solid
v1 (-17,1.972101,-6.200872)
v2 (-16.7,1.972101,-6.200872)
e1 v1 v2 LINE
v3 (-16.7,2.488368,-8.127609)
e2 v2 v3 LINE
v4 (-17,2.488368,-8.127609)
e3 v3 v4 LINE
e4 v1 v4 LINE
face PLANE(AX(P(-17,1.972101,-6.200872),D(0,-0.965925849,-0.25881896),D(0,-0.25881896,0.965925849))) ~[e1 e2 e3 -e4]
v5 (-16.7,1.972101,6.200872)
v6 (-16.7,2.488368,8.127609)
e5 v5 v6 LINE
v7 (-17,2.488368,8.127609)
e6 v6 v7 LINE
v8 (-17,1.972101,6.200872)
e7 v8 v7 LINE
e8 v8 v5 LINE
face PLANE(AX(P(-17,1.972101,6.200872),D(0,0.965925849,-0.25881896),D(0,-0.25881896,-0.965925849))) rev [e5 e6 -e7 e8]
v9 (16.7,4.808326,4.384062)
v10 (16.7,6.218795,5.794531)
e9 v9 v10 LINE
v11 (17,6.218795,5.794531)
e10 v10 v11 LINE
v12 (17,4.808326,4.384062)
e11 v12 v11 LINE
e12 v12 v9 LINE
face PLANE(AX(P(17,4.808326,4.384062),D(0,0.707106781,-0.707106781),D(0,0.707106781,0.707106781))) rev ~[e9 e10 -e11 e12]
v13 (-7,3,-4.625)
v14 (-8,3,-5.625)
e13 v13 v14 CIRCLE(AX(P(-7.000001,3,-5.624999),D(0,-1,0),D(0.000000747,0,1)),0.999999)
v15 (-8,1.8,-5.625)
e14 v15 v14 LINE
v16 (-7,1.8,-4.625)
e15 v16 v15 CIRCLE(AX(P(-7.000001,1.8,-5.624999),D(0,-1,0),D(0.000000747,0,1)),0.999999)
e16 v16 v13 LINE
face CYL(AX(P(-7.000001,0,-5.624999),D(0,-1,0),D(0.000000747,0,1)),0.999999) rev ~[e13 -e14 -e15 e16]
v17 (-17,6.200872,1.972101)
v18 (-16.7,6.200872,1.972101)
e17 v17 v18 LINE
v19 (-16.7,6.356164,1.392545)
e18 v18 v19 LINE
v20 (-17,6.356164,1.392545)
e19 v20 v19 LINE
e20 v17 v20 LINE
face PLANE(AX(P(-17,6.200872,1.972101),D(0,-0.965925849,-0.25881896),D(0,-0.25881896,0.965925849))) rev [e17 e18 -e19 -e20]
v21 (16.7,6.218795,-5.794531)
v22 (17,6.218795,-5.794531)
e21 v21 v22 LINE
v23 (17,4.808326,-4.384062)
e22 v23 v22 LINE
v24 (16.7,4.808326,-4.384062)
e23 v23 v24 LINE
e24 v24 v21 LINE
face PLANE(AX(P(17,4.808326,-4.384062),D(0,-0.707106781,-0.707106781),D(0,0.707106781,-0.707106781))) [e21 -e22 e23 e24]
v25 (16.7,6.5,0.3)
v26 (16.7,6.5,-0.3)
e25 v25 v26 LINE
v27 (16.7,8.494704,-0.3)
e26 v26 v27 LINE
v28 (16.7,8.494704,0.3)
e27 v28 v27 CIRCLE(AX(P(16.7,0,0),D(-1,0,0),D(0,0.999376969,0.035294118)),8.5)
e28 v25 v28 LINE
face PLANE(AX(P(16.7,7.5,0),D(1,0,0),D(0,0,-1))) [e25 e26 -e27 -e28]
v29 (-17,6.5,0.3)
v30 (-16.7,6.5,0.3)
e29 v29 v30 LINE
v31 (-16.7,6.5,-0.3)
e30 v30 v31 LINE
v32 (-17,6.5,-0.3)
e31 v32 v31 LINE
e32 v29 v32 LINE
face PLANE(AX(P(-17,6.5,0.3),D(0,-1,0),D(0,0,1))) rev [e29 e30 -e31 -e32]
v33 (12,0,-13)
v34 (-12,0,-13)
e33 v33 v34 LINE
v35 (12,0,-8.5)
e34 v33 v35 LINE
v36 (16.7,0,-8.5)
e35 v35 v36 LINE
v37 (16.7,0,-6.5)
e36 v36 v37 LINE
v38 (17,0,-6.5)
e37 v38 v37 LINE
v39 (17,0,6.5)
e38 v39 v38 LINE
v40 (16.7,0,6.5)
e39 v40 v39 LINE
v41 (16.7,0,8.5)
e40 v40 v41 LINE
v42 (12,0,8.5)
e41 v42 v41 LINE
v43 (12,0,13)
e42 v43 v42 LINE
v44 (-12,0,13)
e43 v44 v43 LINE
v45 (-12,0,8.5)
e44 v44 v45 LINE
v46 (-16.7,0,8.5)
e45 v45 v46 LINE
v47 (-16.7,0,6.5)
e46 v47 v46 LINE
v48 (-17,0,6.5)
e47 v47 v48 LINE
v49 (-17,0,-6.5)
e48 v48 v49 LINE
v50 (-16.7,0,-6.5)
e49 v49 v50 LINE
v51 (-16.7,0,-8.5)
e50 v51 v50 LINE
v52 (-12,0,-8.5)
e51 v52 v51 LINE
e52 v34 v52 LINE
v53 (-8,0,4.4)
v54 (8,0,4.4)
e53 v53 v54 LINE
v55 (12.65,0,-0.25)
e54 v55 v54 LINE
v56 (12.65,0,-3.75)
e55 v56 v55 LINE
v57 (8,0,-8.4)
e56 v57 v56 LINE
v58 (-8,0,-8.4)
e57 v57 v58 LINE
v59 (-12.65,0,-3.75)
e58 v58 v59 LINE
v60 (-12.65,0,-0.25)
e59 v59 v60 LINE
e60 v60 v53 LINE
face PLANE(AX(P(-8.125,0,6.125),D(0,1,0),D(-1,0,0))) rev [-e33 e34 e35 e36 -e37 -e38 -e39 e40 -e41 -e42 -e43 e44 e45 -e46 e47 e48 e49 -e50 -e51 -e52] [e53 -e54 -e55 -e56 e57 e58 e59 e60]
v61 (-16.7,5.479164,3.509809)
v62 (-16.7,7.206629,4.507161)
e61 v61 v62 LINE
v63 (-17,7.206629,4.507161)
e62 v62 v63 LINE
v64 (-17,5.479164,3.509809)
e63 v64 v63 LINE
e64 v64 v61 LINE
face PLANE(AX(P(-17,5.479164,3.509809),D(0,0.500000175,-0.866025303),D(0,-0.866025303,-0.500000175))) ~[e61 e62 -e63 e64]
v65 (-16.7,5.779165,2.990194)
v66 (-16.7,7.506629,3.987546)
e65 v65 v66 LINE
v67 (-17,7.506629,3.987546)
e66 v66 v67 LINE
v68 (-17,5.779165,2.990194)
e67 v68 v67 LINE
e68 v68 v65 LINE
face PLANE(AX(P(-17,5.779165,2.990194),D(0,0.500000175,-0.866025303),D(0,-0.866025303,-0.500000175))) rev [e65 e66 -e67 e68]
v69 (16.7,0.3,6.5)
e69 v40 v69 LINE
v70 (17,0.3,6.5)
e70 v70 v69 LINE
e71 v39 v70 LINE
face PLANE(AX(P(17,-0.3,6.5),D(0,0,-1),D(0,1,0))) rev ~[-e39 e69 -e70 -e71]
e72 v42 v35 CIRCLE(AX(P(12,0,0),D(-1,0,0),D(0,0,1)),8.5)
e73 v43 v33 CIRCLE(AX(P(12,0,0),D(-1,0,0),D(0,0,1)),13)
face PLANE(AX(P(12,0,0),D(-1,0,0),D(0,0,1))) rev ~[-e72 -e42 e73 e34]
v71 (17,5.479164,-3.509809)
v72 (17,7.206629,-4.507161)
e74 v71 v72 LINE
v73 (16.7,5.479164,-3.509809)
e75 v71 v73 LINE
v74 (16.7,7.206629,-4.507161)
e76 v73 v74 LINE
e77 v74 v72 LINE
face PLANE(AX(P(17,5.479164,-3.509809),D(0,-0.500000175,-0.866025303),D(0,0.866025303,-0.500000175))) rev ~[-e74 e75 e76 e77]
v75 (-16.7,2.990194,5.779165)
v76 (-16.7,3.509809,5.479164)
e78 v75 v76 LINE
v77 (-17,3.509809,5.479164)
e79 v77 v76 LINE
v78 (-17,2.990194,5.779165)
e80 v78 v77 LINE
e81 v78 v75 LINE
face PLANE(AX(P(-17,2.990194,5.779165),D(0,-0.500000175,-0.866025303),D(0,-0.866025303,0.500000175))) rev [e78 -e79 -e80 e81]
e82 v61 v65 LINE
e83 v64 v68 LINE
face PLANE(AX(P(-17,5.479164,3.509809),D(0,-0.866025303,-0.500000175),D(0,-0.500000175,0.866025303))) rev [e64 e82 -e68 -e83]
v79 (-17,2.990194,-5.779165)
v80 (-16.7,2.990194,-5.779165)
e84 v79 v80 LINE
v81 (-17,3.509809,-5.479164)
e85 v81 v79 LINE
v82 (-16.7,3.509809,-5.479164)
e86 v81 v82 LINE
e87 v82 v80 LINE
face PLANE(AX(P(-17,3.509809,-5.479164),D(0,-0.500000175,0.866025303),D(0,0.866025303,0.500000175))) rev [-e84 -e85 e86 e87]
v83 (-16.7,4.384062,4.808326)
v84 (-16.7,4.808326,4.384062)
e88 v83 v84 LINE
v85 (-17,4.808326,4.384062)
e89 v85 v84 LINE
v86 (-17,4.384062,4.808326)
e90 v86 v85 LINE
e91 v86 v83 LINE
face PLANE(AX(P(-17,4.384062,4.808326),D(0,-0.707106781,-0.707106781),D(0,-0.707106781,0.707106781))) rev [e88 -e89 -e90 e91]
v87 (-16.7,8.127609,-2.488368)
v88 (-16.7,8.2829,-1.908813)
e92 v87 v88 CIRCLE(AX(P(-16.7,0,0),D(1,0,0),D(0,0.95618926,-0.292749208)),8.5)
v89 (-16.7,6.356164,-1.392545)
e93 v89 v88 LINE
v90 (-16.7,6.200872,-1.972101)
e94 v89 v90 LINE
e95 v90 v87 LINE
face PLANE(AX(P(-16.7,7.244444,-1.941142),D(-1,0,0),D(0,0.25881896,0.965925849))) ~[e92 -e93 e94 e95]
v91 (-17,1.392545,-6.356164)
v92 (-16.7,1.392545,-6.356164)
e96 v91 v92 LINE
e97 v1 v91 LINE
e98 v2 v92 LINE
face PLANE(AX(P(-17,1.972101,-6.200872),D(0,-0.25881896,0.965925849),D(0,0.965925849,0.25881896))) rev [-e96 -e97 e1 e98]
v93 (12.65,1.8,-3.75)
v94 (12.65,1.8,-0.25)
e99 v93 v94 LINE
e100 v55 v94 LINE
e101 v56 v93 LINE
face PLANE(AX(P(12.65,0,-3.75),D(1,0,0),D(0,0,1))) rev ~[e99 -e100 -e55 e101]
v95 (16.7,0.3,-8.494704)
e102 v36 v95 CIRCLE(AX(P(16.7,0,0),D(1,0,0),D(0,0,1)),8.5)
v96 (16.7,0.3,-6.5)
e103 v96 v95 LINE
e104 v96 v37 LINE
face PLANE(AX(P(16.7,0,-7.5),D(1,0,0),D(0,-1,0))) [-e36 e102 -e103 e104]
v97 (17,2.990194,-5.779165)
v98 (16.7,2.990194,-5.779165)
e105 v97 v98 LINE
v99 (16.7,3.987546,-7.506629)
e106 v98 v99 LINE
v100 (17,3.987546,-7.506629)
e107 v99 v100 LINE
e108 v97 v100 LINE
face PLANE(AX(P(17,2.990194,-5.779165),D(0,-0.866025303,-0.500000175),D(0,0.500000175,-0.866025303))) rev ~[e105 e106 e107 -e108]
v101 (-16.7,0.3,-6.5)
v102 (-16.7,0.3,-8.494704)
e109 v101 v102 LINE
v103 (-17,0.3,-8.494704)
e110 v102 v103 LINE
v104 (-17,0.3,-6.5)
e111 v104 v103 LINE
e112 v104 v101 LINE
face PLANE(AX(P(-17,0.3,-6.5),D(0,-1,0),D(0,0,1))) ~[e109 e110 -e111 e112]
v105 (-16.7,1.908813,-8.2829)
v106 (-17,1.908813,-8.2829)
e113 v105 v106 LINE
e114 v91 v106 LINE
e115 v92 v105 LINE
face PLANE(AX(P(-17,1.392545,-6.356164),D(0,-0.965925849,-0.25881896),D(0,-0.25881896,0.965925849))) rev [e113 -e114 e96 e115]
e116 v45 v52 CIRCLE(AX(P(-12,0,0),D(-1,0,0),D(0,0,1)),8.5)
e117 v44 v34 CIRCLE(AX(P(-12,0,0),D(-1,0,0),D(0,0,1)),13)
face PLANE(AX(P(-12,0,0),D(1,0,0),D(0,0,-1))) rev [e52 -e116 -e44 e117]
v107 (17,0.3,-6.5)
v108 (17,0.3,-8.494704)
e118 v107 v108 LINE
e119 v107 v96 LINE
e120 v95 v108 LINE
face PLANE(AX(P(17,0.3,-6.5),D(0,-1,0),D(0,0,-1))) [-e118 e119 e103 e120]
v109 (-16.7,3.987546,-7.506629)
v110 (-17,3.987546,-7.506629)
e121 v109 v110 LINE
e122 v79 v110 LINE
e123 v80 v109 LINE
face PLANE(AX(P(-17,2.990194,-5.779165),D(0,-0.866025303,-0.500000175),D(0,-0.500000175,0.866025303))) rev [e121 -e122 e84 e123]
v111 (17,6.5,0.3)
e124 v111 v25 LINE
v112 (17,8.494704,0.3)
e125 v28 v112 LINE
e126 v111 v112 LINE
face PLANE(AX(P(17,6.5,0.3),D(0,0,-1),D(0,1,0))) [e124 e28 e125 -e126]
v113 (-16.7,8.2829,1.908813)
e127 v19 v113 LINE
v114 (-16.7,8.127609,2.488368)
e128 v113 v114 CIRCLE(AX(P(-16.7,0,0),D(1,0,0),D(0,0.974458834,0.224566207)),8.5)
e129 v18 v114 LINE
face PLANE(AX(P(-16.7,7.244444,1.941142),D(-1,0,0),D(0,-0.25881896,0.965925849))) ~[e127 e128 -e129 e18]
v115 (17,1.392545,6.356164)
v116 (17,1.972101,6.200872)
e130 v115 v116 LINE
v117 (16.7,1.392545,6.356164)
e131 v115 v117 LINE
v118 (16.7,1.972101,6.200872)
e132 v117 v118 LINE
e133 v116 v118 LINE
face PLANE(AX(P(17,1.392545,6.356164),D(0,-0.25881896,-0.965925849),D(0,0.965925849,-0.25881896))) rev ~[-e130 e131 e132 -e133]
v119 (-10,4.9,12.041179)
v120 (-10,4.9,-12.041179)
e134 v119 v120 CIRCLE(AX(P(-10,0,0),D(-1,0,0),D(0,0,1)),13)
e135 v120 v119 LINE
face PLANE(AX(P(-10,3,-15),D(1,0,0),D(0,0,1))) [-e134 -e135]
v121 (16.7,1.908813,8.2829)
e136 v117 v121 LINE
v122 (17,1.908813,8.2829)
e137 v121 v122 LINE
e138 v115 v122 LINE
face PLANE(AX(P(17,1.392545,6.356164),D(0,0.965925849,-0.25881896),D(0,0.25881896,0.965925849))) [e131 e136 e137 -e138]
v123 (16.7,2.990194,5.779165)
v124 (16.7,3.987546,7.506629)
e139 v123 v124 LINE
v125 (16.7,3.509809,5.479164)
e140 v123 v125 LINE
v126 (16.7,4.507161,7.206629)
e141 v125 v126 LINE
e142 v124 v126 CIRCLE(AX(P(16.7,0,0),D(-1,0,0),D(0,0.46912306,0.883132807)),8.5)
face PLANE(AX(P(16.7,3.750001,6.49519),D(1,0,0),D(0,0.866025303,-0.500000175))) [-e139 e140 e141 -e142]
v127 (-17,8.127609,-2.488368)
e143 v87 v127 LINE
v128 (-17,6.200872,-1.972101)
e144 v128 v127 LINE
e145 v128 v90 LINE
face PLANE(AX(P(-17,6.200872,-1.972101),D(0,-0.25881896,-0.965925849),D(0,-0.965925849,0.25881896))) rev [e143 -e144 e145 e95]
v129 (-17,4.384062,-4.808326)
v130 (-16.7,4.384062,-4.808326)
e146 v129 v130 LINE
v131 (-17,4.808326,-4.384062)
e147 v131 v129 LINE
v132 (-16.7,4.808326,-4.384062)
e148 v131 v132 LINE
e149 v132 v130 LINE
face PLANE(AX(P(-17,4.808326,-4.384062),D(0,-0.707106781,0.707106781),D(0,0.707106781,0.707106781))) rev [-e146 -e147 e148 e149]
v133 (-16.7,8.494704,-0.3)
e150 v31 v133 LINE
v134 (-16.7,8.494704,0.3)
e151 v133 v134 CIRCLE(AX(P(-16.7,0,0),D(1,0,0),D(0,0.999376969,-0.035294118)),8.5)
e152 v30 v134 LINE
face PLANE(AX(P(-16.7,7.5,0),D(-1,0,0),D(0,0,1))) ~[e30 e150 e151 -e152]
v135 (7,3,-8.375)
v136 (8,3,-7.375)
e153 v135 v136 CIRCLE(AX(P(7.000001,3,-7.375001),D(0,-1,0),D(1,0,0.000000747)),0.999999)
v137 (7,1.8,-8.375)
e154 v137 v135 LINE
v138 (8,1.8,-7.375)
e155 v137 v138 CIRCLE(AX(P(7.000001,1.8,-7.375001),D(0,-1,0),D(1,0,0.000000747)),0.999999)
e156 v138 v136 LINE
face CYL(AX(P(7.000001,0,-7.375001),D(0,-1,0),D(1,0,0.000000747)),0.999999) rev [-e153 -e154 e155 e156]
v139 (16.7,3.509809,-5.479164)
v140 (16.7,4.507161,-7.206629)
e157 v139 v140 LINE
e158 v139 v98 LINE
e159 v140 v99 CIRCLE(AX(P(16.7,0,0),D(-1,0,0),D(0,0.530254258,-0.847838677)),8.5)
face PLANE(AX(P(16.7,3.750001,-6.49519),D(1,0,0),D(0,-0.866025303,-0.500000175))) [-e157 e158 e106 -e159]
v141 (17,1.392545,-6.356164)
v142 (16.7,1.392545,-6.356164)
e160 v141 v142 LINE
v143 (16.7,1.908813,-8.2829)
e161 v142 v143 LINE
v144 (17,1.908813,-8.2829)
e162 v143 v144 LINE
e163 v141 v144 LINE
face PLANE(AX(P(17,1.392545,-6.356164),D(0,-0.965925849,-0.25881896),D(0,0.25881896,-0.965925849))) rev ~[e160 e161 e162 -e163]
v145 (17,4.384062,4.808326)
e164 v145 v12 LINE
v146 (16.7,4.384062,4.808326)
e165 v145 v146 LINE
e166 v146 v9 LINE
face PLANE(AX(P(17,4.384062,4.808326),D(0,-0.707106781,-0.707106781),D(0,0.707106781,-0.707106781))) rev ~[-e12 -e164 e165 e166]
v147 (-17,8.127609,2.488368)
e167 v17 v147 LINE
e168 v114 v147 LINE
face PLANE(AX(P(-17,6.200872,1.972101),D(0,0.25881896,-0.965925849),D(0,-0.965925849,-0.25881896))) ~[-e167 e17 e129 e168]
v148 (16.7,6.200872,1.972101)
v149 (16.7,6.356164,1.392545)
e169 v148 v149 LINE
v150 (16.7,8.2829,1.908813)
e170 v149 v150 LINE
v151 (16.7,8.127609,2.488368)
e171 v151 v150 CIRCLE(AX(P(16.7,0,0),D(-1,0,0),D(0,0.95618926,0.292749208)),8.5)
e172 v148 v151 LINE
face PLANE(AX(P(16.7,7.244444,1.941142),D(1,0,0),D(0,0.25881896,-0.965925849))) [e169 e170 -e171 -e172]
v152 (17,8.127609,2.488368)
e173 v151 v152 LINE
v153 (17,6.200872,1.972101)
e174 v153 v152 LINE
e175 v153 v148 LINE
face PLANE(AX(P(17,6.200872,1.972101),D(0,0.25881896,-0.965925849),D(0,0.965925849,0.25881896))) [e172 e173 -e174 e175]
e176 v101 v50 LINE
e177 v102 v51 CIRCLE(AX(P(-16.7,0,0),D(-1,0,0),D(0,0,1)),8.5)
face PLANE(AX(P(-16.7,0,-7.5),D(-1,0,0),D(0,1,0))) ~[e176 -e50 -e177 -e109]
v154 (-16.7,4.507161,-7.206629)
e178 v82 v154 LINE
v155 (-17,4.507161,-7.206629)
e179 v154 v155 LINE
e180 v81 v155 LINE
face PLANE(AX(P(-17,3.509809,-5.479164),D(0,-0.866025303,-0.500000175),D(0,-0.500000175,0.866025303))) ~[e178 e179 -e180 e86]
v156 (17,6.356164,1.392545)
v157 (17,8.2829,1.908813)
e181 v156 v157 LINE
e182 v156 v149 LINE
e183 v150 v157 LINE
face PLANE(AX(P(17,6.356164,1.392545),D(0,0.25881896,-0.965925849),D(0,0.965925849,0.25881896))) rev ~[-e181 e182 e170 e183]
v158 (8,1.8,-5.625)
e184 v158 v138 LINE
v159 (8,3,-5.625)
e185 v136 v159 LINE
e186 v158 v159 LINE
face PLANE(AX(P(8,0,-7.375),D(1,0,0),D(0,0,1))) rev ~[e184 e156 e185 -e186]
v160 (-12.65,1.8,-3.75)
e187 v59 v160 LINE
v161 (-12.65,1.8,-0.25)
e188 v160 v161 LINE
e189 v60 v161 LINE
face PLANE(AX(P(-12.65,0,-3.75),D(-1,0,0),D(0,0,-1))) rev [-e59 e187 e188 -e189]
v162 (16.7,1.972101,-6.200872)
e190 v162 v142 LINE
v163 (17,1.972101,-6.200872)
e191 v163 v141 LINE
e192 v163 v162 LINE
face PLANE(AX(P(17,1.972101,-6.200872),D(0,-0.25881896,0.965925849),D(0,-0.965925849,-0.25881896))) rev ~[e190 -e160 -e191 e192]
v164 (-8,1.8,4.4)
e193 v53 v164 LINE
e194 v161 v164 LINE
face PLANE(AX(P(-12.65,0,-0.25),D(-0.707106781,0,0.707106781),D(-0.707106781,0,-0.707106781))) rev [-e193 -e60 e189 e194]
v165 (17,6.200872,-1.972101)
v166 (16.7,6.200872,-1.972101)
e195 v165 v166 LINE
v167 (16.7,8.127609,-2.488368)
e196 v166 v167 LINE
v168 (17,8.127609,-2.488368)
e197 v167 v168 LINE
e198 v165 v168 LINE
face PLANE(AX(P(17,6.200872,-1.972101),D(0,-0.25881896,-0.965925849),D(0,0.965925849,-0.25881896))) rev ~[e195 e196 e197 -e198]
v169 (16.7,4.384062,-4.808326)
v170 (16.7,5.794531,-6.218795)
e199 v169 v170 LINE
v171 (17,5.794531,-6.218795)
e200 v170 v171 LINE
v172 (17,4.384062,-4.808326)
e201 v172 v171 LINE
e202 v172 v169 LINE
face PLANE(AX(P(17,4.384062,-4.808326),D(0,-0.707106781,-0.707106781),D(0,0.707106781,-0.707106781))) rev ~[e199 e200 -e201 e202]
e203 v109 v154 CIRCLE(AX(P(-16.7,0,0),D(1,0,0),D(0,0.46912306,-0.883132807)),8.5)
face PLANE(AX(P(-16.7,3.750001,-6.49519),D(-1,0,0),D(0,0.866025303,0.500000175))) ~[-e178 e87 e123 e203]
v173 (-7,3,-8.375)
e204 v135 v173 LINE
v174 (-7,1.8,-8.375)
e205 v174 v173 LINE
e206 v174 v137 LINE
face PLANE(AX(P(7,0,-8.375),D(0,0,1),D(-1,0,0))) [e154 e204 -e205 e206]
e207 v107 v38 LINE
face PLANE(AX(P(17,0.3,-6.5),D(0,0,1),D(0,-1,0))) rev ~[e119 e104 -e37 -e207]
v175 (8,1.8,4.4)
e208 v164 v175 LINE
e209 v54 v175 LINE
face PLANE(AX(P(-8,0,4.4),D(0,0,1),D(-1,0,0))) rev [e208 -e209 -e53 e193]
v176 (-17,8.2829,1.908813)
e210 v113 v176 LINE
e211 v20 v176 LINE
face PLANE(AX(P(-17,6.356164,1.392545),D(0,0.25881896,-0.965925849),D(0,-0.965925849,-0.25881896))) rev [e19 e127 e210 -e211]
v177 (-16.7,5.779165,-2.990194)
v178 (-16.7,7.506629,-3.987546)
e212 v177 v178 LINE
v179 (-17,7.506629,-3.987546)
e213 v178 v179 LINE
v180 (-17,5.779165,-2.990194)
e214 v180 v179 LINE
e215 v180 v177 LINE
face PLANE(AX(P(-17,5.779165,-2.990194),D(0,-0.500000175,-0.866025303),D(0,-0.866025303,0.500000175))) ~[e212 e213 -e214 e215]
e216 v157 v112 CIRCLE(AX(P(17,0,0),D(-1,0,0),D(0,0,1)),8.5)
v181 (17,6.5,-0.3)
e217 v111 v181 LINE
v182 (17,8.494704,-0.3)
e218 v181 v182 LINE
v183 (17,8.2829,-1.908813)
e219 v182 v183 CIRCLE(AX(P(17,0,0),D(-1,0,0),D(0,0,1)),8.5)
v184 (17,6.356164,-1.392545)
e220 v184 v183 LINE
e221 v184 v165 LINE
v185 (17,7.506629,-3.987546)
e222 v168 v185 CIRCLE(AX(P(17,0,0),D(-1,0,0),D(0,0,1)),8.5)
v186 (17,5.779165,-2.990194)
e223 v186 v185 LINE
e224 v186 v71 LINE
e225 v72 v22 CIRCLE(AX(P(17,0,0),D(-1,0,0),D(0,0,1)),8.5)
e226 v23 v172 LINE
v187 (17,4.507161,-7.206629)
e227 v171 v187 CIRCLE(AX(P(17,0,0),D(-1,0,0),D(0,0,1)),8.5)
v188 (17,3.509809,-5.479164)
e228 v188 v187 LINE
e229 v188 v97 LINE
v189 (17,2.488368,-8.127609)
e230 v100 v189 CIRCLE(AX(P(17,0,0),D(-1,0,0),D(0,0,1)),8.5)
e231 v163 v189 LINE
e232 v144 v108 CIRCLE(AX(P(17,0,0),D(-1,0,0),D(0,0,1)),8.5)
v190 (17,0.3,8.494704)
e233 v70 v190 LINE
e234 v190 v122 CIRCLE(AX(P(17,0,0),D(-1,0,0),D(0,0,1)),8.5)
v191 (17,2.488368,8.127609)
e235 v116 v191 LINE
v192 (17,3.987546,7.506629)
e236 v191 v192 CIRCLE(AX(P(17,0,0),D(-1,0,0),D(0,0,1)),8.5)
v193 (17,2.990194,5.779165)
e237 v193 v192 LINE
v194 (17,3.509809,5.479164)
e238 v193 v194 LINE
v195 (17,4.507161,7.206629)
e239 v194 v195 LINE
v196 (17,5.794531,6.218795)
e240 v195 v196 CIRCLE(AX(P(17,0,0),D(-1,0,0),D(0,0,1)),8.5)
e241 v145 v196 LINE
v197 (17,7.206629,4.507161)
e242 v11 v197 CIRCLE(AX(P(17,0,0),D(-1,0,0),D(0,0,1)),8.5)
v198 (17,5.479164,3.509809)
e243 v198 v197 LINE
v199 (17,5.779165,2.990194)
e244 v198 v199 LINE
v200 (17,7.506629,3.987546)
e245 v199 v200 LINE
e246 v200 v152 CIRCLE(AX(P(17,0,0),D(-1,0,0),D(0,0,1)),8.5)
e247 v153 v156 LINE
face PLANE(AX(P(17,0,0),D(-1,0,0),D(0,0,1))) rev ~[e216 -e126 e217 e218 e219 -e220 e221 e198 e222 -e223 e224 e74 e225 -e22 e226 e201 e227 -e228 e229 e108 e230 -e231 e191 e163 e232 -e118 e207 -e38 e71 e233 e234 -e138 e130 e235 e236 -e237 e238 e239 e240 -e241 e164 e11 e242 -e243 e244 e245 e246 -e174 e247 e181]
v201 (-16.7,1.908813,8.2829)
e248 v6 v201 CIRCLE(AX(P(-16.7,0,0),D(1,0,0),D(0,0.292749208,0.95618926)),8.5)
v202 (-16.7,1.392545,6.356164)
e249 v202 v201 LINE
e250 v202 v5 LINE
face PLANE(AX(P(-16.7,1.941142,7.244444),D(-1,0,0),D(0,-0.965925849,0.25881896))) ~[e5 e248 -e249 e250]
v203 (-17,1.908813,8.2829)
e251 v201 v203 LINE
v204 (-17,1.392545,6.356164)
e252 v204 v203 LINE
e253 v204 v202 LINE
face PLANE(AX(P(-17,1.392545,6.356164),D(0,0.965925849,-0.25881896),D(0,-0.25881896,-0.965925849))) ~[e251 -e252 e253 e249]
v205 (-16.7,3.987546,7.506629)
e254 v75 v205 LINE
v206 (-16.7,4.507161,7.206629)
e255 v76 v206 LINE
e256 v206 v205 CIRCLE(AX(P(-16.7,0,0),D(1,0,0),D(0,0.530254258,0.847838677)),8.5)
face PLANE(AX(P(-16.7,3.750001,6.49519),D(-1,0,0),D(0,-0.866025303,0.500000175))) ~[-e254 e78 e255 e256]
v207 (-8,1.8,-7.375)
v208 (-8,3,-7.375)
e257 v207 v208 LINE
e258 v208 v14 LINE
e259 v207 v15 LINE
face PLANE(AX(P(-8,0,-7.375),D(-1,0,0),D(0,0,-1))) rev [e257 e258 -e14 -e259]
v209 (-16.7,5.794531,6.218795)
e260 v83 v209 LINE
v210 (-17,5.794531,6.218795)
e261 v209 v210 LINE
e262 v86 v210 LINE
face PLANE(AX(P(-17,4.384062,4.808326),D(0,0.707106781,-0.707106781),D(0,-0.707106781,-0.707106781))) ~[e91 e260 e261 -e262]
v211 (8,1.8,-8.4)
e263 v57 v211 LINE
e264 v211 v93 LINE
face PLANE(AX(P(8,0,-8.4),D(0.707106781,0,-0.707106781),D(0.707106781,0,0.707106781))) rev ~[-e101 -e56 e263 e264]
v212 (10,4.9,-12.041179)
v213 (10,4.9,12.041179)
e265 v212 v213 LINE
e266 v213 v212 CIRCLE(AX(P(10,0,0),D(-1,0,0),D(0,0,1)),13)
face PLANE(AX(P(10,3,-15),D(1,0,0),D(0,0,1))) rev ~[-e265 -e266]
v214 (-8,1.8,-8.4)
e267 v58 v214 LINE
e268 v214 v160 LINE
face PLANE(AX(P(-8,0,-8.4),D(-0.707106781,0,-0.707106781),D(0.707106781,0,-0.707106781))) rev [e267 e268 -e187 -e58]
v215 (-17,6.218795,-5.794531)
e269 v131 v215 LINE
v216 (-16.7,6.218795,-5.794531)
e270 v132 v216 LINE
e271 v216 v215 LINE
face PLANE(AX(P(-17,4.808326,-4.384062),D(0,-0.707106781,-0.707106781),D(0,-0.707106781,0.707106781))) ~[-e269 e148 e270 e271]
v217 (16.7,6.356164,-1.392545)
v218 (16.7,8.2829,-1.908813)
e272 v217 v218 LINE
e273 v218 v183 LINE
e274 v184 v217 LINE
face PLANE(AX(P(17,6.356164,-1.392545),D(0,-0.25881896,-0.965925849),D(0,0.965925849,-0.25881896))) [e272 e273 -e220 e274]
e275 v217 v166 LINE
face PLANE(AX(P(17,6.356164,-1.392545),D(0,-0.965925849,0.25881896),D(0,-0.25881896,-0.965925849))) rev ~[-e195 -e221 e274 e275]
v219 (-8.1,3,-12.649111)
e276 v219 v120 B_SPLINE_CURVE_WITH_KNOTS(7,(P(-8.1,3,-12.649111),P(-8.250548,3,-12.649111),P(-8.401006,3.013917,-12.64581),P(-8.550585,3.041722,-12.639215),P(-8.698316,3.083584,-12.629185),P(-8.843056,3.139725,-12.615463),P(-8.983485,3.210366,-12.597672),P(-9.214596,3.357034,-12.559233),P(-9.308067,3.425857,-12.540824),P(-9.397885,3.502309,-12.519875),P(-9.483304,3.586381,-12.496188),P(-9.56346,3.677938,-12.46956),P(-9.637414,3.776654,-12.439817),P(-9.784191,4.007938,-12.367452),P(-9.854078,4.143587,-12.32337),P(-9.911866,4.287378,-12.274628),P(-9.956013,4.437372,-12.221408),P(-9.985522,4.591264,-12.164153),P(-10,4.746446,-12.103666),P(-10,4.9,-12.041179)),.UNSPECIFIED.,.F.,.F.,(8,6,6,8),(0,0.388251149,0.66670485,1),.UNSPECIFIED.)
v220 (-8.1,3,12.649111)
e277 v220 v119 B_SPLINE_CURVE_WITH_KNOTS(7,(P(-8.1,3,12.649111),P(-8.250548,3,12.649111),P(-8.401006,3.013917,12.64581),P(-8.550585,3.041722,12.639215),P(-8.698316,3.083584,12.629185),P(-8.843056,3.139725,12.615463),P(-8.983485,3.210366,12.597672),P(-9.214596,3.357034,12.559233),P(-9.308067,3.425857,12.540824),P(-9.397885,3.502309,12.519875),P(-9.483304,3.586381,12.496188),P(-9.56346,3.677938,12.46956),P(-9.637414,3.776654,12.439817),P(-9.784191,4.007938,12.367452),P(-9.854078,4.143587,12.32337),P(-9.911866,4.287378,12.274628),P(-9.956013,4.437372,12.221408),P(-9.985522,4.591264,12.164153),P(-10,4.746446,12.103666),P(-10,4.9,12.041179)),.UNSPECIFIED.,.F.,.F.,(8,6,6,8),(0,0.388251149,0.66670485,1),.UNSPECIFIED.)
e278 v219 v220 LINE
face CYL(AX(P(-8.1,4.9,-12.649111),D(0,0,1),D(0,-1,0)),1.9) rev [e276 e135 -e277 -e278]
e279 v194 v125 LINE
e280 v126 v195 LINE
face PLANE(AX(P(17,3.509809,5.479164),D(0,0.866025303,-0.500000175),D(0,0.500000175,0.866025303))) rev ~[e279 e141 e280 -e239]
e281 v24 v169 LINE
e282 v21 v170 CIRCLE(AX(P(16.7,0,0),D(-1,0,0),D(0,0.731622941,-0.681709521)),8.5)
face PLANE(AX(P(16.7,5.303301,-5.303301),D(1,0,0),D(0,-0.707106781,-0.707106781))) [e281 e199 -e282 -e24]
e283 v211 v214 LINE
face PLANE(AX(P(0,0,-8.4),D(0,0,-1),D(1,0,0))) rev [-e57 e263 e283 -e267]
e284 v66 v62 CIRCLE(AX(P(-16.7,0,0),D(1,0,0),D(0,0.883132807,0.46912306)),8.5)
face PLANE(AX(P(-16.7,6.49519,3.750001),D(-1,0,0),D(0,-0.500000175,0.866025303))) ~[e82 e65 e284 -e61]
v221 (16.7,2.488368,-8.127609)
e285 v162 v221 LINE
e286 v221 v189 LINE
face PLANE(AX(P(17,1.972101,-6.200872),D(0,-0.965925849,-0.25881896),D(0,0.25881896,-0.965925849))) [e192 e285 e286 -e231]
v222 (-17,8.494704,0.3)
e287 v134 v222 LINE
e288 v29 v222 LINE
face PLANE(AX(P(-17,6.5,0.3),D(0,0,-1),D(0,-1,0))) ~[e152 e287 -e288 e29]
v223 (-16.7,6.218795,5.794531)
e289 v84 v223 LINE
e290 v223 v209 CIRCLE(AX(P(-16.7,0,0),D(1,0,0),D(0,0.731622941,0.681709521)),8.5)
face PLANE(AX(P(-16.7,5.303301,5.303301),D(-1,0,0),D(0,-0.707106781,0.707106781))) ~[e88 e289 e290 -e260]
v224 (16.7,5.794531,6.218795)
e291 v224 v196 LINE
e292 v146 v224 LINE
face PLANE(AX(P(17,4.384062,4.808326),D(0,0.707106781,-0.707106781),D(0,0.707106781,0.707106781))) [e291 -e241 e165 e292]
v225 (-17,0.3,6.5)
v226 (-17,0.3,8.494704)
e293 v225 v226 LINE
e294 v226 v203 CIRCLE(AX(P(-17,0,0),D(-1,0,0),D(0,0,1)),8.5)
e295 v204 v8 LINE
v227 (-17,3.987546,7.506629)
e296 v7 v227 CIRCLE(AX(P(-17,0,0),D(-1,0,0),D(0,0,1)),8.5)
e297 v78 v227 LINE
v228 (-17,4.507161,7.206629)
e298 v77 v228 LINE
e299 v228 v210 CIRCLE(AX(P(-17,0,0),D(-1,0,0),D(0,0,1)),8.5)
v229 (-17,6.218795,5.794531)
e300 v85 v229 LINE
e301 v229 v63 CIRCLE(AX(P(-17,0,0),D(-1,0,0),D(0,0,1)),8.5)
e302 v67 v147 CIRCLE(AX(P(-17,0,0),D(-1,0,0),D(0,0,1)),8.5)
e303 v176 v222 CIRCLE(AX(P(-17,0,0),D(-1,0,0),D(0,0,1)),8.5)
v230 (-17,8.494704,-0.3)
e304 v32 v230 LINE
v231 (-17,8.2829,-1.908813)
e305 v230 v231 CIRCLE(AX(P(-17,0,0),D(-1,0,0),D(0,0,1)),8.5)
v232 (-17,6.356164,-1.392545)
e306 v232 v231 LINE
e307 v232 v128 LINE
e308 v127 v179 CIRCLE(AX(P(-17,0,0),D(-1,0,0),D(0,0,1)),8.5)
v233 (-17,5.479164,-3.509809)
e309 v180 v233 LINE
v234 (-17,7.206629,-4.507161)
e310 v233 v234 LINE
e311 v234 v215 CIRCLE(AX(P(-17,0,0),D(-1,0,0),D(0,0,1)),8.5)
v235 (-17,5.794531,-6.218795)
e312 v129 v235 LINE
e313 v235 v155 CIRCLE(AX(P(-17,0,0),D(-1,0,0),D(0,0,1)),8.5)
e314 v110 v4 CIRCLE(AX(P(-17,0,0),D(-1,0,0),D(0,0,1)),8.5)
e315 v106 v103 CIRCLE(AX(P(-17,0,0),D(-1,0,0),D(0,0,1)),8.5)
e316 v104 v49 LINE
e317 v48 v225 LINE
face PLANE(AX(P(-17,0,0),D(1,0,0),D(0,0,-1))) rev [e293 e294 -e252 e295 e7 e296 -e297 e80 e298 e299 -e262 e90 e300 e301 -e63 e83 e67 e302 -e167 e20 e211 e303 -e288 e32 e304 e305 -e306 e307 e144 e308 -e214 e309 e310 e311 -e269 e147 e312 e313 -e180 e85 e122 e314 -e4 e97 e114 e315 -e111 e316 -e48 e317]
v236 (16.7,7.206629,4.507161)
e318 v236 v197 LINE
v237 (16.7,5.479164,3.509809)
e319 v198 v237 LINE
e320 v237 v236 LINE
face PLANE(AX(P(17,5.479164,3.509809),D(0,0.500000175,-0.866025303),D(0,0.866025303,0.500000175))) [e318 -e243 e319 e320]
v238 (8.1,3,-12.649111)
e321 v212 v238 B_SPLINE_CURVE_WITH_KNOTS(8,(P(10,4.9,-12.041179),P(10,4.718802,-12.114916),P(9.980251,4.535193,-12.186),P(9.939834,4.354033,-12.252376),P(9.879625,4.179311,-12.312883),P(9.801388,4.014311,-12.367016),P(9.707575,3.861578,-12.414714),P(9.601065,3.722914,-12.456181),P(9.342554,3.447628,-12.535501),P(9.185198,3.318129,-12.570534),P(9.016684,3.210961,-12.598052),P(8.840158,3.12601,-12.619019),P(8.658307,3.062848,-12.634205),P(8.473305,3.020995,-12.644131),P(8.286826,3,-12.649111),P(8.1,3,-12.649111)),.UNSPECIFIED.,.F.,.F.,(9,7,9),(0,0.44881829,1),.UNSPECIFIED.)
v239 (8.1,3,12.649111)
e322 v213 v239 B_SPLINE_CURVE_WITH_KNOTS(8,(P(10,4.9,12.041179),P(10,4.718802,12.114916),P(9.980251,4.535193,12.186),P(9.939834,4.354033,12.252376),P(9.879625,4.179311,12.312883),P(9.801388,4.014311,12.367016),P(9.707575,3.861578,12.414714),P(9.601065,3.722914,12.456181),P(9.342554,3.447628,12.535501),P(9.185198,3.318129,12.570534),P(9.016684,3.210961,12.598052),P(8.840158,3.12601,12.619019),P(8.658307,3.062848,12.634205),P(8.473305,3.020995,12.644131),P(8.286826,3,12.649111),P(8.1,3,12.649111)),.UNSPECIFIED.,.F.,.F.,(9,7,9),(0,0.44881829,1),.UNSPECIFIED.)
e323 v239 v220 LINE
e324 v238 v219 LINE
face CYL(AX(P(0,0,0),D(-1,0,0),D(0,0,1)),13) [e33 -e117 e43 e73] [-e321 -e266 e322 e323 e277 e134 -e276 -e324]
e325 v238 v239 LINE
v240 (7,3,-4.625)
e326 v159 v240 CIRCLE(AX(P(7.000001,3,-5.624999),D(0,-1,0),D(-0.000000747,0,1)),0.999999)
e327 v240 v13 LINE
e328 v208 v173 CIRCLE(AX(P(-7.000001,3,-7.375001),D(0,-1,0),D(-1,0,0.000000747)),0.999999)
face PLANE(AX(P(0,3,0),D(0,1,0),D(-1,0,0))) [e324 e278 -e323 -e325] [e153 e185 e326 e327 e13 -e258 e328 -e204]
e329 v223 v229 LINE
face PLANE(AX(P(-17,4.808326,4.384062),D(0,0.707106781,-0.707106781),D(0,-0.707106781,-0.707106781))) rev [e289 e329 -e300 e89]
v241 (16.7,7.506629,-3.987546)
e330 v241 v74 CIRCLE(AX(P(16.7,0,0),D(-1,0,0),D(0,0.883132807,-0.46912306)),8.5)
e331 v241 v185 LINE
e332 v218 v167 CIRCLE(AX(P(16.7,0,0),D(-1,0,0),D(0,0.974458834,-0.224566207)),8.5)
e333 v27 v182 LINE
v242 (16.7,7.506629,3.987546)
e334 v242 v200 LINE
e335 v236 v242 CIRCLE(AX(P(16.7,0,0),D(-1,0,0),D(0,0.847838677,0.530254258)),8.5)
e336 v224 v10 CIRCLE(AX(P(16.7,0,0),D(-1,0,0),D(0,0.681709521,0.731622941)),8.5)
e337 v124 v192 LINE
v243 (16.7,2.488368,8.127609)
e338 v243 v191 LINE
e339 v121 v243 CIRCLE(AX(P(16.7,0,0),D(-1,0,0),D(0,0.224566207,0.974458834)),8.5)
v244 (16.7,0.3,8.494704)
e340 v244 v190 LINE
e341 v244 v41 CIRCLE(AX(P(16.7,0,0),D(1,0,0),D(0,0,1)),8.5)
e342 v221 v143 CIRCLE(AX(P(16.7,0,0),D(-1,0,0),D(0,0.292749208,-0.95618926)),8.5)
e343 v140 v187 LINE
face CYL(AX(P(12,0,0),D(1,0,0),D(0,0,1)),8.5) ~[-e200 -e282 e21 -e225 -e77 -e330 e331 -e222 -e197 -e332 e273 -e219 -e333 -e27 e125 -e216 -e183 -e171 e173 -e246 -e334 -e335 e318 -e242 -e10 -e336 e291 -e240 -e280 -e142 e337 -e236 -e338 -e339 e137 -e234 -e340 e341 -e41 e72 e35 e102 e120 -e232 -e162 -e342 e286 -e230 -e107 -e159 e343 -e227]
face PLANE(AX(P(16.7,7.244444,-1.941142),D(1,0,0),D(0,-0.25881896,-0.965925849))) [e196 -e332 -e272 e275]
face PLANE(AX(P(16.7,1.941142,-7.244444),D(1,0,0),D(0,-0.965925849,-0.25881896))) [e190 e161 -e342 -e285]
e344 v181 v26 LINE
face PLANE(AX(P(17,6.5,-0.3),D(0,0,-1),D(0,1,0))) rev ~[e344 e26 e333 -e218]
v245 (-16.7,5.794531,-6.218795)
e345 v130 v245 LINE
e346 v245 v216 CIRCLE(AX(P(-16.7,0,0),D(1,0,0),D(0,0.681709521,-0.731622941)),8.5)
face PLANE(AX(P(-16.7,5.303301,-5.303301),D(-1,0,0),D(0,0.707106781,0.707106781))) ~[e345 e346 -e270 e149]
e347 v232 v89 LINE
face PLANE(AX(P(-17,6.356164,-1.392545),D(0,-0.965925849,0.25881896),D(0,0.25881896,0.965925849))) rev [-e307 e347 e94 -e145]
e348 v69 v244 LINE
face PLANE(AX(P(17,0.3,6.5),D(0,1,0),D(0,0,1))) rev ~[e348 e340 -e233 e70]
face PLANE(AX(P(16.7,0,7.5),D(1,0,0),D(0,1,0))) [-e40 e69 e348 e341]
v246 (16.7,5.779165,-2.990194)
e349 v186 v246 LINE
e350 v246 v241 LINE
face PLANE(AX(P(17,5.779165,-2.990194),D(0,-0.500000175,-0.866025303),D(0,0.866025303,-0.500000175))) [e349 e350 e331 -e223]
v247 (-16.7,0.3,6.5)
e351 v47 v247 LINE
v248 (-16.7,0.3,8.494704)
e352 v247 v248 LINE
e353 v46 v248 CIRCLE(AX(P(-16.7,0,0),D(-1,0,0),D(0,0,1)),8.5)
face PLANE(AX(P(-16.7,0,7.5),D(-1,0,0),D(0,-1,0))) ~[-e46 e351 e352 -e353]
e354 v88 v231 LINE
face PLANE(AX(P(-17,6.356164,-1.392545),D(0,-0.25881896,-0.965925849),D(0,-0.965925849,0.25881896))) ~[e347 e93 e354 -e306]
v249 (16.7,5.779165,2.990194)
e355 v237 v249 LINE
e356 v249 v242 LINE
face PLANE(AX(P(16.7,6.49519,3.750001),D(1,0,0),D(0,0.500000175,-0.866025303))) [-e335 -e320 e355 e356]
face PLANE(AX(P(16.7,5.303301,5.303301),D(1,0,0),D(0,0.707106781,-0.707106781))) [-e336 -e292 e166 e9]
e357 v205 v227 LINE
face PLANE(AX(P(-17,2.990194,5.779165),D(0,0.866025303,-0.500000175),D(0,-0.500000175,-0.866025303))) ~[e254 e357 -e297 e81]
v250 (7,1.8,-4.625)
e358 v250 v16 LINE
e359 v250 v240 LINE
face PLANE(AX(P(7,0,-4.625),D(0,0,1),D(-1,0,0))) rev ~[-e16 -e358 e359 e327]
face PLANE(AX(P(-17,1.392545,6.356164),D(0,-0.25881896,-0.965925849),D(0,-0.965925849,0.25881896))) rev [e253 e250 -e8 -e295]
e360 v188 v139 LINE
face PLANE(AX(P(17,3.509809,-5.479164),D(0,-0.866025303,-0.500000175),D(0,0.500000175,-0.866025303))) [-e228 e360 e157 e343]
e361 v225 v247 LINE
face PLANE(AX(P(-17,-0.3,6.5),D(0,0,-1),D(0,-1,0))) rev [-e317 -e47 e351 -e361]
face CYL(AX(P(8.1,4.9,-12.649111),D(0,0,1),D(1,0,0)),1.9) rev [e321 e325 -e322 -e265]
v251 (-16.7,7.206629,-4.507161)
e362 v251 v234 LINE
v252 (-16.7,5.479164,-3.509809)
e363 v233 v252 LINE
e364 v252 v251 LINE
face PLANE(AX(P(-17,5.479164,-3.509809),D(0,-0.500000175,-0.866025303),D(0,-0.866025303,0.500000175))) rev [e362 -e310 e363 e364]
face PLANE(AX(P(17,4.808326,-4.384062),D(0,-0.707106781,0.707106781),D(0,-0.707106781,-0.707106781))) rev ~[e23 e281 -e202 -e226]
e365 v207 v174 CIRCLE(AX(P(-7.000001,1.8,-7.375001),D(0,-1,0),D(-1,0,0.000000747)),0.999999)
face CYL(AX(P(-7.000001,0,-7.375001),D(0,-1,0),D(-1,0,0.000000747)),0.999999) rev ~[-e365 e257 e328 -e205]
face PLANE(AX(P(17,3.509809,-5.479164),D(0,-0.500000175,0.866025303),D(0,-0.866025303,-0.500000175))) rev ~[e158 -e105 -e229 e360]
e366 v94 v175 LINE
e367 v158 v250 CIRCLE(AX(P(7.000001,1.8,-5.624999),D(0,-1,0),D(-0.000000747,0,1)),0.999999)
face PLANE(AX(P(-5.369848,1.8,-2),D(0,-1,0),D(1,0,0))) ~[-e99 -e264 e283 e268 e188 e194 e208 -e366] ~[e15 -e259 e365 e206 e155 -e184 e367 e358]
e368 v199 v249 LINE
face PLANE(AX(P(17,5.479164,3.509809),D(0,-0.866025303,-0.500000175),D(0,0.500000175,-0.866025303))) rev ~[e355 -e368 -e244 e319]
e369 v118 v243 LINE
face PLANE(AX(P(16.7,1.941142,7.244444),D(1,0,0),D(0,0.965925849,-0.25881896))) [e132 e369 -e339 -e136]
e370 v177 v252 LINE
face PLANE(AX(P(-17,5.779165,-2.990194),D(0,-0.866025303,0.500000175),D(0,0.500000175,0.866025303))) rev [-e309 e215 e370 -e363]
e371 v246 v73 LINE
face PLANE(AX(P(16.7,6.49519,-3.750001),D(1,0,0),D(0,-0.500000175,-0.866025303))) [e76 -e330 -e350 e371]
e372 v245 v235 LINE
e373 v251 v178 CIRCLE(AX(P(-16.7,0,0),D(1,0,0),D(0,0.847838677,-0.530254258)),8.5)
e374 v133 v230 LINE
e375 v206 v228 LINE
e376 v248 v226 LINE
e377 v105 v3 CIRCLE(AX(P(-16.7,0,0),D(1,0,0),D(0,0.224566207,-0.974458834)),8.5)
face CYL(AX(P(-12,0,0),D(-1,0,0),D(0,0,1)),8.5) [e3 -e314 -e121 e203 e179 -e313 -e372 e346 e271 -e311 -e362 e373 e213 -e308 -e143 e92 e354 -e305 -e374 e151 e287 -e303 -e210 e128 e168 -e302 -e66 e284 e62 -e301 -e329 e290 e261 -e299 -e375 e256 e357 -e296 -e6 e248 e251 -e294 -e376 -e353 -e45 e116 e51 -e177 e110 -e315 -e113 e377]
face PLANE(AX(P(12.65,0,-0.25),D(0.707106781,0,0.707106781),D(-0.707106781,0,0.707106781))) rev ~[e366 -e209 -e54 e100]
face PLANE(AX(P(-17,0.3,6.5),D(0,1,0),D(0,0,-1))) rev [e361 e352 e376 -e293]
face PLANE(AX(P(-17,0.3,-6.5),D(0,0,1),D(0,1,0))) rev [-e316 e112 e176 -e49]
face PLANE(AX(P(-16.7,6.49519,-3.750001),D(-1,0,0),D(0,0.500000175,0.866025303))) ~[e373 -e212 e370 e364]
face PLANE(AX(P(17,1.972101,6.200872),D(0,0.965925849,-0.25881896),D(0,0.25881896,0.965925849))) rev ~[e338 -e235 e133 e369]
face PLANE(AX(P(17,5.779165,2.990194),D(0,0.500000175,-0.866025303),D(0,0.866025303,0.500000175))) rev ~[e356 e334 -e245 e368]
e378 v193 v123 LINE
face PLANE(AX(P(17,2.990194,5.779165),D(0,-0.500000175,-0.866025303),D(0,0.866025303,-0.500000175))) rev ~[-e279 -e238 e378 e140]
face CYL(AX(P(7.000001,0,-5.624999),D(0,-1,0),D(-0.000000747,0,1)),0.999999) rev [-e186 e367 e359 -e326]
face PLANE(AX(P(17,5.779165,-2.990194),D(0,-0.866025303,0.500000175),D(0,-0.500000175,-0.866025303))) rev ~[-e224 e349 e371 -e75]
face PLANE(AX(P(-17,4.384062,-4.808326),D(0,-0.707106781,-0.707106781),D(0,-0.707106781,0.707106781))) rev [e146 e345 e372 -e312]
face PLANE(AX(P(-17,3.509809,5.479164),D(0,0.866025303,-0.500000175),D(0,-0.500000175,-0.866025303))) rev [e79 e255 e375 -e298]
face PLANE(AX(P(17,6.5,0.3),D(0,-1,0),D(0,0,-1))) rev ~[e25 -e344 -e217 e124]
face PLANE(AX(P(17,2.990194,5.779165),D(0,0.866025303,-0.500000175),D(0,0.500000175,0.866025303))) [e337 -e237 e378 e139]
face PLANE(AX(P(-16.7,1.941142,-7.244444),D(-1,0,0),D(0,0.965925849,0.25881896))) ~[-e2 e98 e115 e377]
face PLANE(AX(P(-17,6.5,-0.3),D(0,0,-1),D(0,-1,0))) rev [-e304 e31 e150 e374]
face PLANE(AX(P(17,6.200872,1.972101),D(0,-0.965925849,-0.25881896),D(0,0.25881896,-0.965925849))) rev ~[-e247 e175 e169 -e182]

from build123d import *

# Parameters (mm, degrees)
REVOLUTION003_ANGLE                = -180
POCKET007_DEPTH                    = 80.350833
POCKET041_DEPTH                    = 1.8
SKETCH021_W                        = 20
SKETCH021_H                        = 30
POCKET009_DEPTH                    = 10.001
SKETCH022_W                        = 0.6
SKETCH022_H                        = 2
POCKET010_DEPTH                    = 0.3
SKETCH022_POLARPATTERN001_2_W      = 0.6
SKETCH022_POLARPATTERN001_2_H      = 2
POCKET010_POLARPATTERN001_2_DEPTH  = 0.3
SKETCH022_POLARPATTERN001_3_W      = 0.6
SKETCH022_POLARPATTERN001_3_H      = 2
POCKET010_POLARPATTERN001_3_DEPTH  = 0.3
SKETCH022_POLARPATTERN001_4_W      = 0.6
SKETCH022_POLARPATTERN001_4_H      = 2
POCKET010_POLARPATTERN001_4_DEPTH  = 0.3
SKETCH022_POLARPATTERN001_5_W      = 0.6
SKETCH022_POLARPATTERN001_5_H      = 2
POCKET010_POLARPATTERN001_5_DEPTH  = 0.3
SKETCH022_POLARPATTERN001_6_W      = 0.6
SKETCH022_POLARPATTERN001_6_H      = 2
POCKET010_POLARPATTERN001_6_DEPTH  = 0.3
SKETCH022_POLARPATTERN001_7_W      = 0.6
SKETCH022_POLARPATTERN001_7_H      = 2
POCKET010_POLARPATTERN001_7_DEPTH  = 0.3
SKETCH022_POLARPATTERN001_8_W      = 0.6
SKETCH022_POLARPATTERN001_8_H      = 2
POCKET010_POLARPATTERN001_8_DEPTH  = 0.3
SKETCH022_POLARPATTERN001_9_W      = 0.6
SKETCH022_POLARPATTERN001_9_H      = 2
POCKET010_POLARPATTERN001_9_DEPTH  = 0.3
SKETCH022_POLARPATTERN001_10_W     = 0.6
SKETCH022_POLARPATTERN001_10_H     = 2
POCKET010_POLARPATTERN001_10_DEPTH = 0.3
SKETCH022_POLARPATTERN001_11_W     = 0.6
SKETCH022_POLARPATTERN001_11_H     = 2
POCKET010_POLARPATTERN001_11_DEPTH = 0.3
SKETCH022_POLARPATTERN001_12_W     = 0.6
SKETCH022_POLARPATTERN001_12_H     = 2
POCKET010_POLARPATTERN001_12_DEPTH = 0.3
SKETCH022_POLARPATTERN001_13_W     = 0.6
SKETCH022_POLARPATTERN001_13_H     = 2
POCKET010_POLARPATTERN001_13_DEPTH = 0.3
FILLET006_R                        = 1.9


with BuildPart() as part:
    # Sketch011 → Revolution003 (revolve)
    with BuildSketch(Plane.XZ):
        Polygon((0, 13), (12, 13), (12, 8.5), (17, 8.5), (17, 0), (0, 0), align=None)
    revolution003 = revolve(axis=Axis((0, 0, 0), (1, 0, 0)), revolution_arc=REVOLUTION003_ANGLE)

    # Sketch017 → Pocket007 (cut, through all)
    with BuildSketch(Plane(origin=(0, 0, 0), x_dir=(-1, 0, 0), z_dir=(0, 1, 0))):
        with BuildLine():
            Line((-7, -8.375), (0, -8.375))
            Line((0, -8.375), (0, -4.625))
            Line((-7, -4.625), (0, -4.625))
            ThreePointArc((-7, -4.625), (-7.707107, -4.917893), (-8, -5.625))
            Line((-8, -7.375), (-8, -5.625))
            ThreePointArc((-8, -7.375), (-7.707107, -8.082107), (-7, -8.375))
        make_face()
    pocket007 = extrude(amount=POCKET007_DEPTH, mode=Mode.SUBTRACT)

    # Sketch024 (on XZ_Plane009 of Origin012) → Pocket041 (cut)
    with BuildSketch(Plane.XZ):
        Polygon((8, 4.4), (0, 4.4), (0, -8.4), (8, -8.4), (12.65, -3.75), (12.65, -0.25), align=None)
    pocket041 = extrude(amount=-POCKET041_DEPTH, mode=Mode.SUBTRACT)

    # Mirrored001: Revolution003, Pocket007, Pocket041 across Sketch011 V_Axis
    add(revolution003.mirror(Plane(origin=(0, 0, 0), x_dir=(0, -1, 0), z_dir=(1, 0, 0))))
    add(pocket007.mirror(Plane(origin=(0, 0, 0), x_dir=(0, -1, 0), z_dir=(1, 0, 0))), mode=Mode.SUBTRACT)
    add(pocket041.mirror(Plane(origin=(0, 0, 0), x_dir=(0, -1, 0), z_dir=(1, 0, 0))), mode=Mode.SUBTRACT)

    # Sketch021 → Pocket009 (cut, through all)
    with BuildSketch(Plane(origin=(0, 3, 0), x_dir=(-1, 0, 0), z_dir=(0, 1, 0))):
        Rectangle(SKETCH021_W, SKETCH021_H)
    extrude(amount=POCKET009_DEPTH, mode=Mode.SUBTRACT)

    # Sketch022 → Pocket010 (cut)
    with BuildSketch(Plane.YZ.offset(17)):
        with Locations((0, 7.5)):
            Rectangle(SKETCH022_W, SKETCH022_H)
    pocket010 = extrude(amount=-POCKET010_DEPTH, mode=Mode.SUBTRACT)

    # Sketch022 PolarPattern001 2 → Pocket010 PolarPattern001 2 (cut)
    with BuildSketch(Plane(origin=(17, 0, 0), x_dir=(0, 0.965926, -0.258819), z_dir=(1, 0, 0))):
        with Locations((0, 7.5)):
            Rectangle(SKETCH022_POLARPATTERN001_2_W, SKETCH022_POLARPATTERN001_2_H)
    pocket010_polarpattern001_2 = extrude(amount=-POCKET010_POLARPATTERN001_2_DEPTH, mode=Mode.SUBTRACT)

    # Sketch022 PolarPattern001 3 → Pocket010 PolarPattern001 3 (cut)
    with BuildSketch(Plane(origin=(17, 0, 0), x_dir=(0, 0.866025, -0.5), z_dir=(1, 0, 0))):
        with Locations((0, 7.5)):
            Rectangle(SKETCH022_POLARPATTERN001_3_W, SKETCH022_POLARPATTERN001_3_H)
    pocket010_polarpattern001_3 = extrude(amount=-POCKET010_POLARPATTERN001_3_DEPTH, mode=Mode.SUBTRACT)

    # Sketch022 PolarPattern001 4 → Pocket010 PolarPattern001 4 (cut)
    with BuildSketch(Plane(origin=(17, 0, 0), x_dir=(0, 0.707107, -0.707107), z_dir=(1, 0, 0))):
        with Locations((0, 7.5)):
            Rectangle(SKETCH022_POLARPATTERN001_4_W, SKETCH022_POLARPATTERN001_4_H)
    pocket010_polarpattern001_4 = extrude(amount=-POCKET010_POLARPATTERN001_4_DEPTH, mode=Mode.SUBTRACT)

    # Sketch022 PolarPattern001 5 → Pocket010 PolarPattern001 5 (cut)
    with BuildSketch(Plane(origin=(17, 0, 0), x_dir=(0, 0.5, -0.866025), z_dir=(1, 0, 0))):
        with Locations((0, 7.5)):
            Rectangle(SKETCH022_POLARPATTERN001_5_W, SKETCH022_POLARPATTERN001_5_H)
    pocket010_polarpattern001_5 = extrude(amount=-POCKET010_POLARPATTERN001_5_DEPTH, mode=Mode.SUBTRACT)

    # Sketch022 PolarPattern001 6 → Pocket010 PolarPattern001 6 (cut)
    with BuildSketch(Plane(origin=(17, 0, 0), x_dir=(0, 0.258819, -0.965926), z_dir=(1, 0, 0))):
        with Locations((0, 7.5)):
            Rectangle(SKETCH022_POLARPATTERN001_6_W, SKETCH022_POLARPATTERN001_6_H)
    pocket010_polarpattern001_6 = extrude(amount=-POCKET010_POLARPATTERN001_6_DEPTH, mode=Mode.SUBTRACT)

    # Sketch022 PolarPattern001 7 → Pocket010 PolarPattern001 7 (cut)
    with BuildSketch(Plane(origin=(17, 0, 0), x_dir=(0, 0, -1), z_dir=(1, 0, 0))):
        with Locations((0, 7.5)):
            Rectangle(SKETCH022_POLARPATTERN001_7_W, SKETCH022_POLARPATTERN001_7_H)
    pocket010_polarpattern001_7 = extrude(amount=-POCKET010_POLARPATTERN001_7_DEPTH, mode=Mode.SUBTRACT)

    # Sketch022 PolarPattern001 8 → Pocket010 PolarPattern001 8 (cut)
    with BuildSketch(Plane(origin=(17, 0, 0), x_dir=(0, -0.258819, -0.965926), z_dir=(1, 0, 0))):
        with Locations((0, 7.5)):
            Rectangle(SKETCH022_POLARPATTERN001_8_W, SKETCH022_POLARPATTERN001_8_H)
    pocket010_polarpattern001_8 = extrude(amount=-POCKET010_POLARPATTERN001_8_DEPTH, mode=Mode.SUBTRACT)

    # Sketch022 PolarPattern001 9 → Pocket010 PolarPattern001 9 (cut)
    with BuildSketch(Plane(origin=(17, 0, 0), x_dir=(0, -0.5, -0.866025), z_dir=(1, 0, 0))):
        with Locations((0, 7.5)):
            Rectangle(SKETCH022_POLARPATTERN001_9_W, SKETCH022_POLARPATTERN001_9_H)
    pocket010_polarpattern001_9 = extrude(amount=-POCKET010_POLARPATTERN001_9_DEPTH, mode=Mode.SUBTRACT)

    # Sketch022 PolarPattern001 10 → Pocket010 PolarPattern001 10 (cut)
    with BuildSketch(Plane(origin=(17, 0, 0), x_dir=(0, -0.707107, -0.707107), z_dir=(1, 0, 0))):
        with Locations((0, 7.5)):
            Rectangle(SKETCH022_POLARPATTERN001_10_W, SKETCH022_POLARPATTERN001_10_H)
    pocket010_polarpattern001_10 = extrude(amount=-POCKET010_POLARPATTERN001_10_DEPTH, mode=Mode.SUBTRACT)

    # Sketch022 PolarPattern001 11 → Pocket010 PolarPattern001 11 (cut)
    with BuildSketch(Plane(origin=(17, 0, 0), x_dir=(0, -0.866025, -0.5), z_dir=(1, 0, 0))):
        with Locations((0, 7.5)):
            Rectangle(SKETCH022_POLARPATTERN001_11_W, SKETCH022_POLARPATTERN001_11_H)
    pocket010_polarpattern001_11 = extrude(amount=-POCKET010_POLARPATTERN001_11_DEPTH, mode=Mode.SUBTRACT)

    # Sketch022 PolarPattern001 12 → Pocket010 PolarPattern001 12 (cut)
    with BuildSketch(Plane(origin=(17, 0, 0), x_dir=(0, -0.965926, -0.258819), z_dir=(1, 0, 0))):
        with Locations((0, 7.5)):
            Rectangle(SKETCH022_POLARPATTERN001_12_W, SKETCH022_POLARPATTERN001_12_H)
    pocket010_polarpattern001_12 = extrude(amount=-POCKET010_POLARPATTERN001_12_DEPTH, mode=Mode.SUBTRACT)

    # Sketch022 PolarPattern001 13 → Pocket010 PolarPattern001 13 (cut)
    with BuildSketch(Plane(origin=(17, 0, 0), x_dir=(0, -1, 0), z_dir=(1, 0, 0))):
        with Locations((0, 7.5)):
            Rectangle(SKETCH022_POLARPATTERN001_13_W, SKETCH022_POLARPATTERN001_13_H)
    pocket010_polarpattern001_13 = extrude(amount=-POCKET010_POLARPATTERN001_13_DEPTH, mode=Mode.SUBTRACT)

    # Mirrored005: Pocket010, Pocket010 PolarPattern001 2, Pocket010 PolarPattern001 3, Pocket010 PolarPattern001 4, Pocket010 PolarPattern001 5, Pocket010 PolarPattern001 6, Pocket010 PolarPattern001 7, Pocket010 PolarPattern001 8, Pocket010 PolarPattern001 9, Pocket010 PolarPattern001 10, Pocket010 PolarPattern001 11, Pocket010 PolarPattern001 12, Pocket010 PolarPattern001 13 across YZ
    add(pocket010.mirror(Plane.YZ), mode=Mode.SUBTRACT)
    add(pocket010_polarpattern001_2.mirror(Plane.YZ), mode=Mode.SUBTRACT)
    add(pocket010_polarpattern001_3.mirror(Plane.YZ), mode=Mode.SUBTRACT)
    add(pocket010_polarpattern001_4.mirror(Plane.YZ), mode=Mode.SUBTRACT)
    add(pocket010_polarpattern001_5.mirror(Plane.YZ), mode=Mode.SUBTRACT)
    add(pocket010_polarpattern001_6.mirror(Plane.YZ), mode=Mode.SUBTRACT)
    add(pocket010_polarpattern001_7.mirror(Plane.YZ), mode=Mode.SUBTRACT)
    add(pocket010_polarpattern001_8.mirror(Plane.YZ), mode=Mode.SUBTRACT)
    add(pocket010_polarpattern001_9.mirror(Plane.YZ), mode=Mode.SUBTRACT)
    add(pocket010_polarpattern001_10.mirror(Plane.YZ), mode=Mode.SUBTRACT)
    add(pocket010_polarpattern001_11.mirror(Plane.YZ), mode=Mode.SUBTRACT)
    add(pocket010_polarpattern001_12.mirror(Plane.YZ), mode=Mode.SUBTRACT)
    add(pocket010_polarpattern001_13.mirror(Plane.YZ), mode=Mode.SUBTRACT)

    # Fillet006
    fillet006_edges = [part.edges().sort_by_distance(p)[0] for p in [
        (-10, 3, 0),
        (10, 3, 0),
    ]]
    fillet(fillet006_edges, radius=FILLET006_R)


solid = part.part
